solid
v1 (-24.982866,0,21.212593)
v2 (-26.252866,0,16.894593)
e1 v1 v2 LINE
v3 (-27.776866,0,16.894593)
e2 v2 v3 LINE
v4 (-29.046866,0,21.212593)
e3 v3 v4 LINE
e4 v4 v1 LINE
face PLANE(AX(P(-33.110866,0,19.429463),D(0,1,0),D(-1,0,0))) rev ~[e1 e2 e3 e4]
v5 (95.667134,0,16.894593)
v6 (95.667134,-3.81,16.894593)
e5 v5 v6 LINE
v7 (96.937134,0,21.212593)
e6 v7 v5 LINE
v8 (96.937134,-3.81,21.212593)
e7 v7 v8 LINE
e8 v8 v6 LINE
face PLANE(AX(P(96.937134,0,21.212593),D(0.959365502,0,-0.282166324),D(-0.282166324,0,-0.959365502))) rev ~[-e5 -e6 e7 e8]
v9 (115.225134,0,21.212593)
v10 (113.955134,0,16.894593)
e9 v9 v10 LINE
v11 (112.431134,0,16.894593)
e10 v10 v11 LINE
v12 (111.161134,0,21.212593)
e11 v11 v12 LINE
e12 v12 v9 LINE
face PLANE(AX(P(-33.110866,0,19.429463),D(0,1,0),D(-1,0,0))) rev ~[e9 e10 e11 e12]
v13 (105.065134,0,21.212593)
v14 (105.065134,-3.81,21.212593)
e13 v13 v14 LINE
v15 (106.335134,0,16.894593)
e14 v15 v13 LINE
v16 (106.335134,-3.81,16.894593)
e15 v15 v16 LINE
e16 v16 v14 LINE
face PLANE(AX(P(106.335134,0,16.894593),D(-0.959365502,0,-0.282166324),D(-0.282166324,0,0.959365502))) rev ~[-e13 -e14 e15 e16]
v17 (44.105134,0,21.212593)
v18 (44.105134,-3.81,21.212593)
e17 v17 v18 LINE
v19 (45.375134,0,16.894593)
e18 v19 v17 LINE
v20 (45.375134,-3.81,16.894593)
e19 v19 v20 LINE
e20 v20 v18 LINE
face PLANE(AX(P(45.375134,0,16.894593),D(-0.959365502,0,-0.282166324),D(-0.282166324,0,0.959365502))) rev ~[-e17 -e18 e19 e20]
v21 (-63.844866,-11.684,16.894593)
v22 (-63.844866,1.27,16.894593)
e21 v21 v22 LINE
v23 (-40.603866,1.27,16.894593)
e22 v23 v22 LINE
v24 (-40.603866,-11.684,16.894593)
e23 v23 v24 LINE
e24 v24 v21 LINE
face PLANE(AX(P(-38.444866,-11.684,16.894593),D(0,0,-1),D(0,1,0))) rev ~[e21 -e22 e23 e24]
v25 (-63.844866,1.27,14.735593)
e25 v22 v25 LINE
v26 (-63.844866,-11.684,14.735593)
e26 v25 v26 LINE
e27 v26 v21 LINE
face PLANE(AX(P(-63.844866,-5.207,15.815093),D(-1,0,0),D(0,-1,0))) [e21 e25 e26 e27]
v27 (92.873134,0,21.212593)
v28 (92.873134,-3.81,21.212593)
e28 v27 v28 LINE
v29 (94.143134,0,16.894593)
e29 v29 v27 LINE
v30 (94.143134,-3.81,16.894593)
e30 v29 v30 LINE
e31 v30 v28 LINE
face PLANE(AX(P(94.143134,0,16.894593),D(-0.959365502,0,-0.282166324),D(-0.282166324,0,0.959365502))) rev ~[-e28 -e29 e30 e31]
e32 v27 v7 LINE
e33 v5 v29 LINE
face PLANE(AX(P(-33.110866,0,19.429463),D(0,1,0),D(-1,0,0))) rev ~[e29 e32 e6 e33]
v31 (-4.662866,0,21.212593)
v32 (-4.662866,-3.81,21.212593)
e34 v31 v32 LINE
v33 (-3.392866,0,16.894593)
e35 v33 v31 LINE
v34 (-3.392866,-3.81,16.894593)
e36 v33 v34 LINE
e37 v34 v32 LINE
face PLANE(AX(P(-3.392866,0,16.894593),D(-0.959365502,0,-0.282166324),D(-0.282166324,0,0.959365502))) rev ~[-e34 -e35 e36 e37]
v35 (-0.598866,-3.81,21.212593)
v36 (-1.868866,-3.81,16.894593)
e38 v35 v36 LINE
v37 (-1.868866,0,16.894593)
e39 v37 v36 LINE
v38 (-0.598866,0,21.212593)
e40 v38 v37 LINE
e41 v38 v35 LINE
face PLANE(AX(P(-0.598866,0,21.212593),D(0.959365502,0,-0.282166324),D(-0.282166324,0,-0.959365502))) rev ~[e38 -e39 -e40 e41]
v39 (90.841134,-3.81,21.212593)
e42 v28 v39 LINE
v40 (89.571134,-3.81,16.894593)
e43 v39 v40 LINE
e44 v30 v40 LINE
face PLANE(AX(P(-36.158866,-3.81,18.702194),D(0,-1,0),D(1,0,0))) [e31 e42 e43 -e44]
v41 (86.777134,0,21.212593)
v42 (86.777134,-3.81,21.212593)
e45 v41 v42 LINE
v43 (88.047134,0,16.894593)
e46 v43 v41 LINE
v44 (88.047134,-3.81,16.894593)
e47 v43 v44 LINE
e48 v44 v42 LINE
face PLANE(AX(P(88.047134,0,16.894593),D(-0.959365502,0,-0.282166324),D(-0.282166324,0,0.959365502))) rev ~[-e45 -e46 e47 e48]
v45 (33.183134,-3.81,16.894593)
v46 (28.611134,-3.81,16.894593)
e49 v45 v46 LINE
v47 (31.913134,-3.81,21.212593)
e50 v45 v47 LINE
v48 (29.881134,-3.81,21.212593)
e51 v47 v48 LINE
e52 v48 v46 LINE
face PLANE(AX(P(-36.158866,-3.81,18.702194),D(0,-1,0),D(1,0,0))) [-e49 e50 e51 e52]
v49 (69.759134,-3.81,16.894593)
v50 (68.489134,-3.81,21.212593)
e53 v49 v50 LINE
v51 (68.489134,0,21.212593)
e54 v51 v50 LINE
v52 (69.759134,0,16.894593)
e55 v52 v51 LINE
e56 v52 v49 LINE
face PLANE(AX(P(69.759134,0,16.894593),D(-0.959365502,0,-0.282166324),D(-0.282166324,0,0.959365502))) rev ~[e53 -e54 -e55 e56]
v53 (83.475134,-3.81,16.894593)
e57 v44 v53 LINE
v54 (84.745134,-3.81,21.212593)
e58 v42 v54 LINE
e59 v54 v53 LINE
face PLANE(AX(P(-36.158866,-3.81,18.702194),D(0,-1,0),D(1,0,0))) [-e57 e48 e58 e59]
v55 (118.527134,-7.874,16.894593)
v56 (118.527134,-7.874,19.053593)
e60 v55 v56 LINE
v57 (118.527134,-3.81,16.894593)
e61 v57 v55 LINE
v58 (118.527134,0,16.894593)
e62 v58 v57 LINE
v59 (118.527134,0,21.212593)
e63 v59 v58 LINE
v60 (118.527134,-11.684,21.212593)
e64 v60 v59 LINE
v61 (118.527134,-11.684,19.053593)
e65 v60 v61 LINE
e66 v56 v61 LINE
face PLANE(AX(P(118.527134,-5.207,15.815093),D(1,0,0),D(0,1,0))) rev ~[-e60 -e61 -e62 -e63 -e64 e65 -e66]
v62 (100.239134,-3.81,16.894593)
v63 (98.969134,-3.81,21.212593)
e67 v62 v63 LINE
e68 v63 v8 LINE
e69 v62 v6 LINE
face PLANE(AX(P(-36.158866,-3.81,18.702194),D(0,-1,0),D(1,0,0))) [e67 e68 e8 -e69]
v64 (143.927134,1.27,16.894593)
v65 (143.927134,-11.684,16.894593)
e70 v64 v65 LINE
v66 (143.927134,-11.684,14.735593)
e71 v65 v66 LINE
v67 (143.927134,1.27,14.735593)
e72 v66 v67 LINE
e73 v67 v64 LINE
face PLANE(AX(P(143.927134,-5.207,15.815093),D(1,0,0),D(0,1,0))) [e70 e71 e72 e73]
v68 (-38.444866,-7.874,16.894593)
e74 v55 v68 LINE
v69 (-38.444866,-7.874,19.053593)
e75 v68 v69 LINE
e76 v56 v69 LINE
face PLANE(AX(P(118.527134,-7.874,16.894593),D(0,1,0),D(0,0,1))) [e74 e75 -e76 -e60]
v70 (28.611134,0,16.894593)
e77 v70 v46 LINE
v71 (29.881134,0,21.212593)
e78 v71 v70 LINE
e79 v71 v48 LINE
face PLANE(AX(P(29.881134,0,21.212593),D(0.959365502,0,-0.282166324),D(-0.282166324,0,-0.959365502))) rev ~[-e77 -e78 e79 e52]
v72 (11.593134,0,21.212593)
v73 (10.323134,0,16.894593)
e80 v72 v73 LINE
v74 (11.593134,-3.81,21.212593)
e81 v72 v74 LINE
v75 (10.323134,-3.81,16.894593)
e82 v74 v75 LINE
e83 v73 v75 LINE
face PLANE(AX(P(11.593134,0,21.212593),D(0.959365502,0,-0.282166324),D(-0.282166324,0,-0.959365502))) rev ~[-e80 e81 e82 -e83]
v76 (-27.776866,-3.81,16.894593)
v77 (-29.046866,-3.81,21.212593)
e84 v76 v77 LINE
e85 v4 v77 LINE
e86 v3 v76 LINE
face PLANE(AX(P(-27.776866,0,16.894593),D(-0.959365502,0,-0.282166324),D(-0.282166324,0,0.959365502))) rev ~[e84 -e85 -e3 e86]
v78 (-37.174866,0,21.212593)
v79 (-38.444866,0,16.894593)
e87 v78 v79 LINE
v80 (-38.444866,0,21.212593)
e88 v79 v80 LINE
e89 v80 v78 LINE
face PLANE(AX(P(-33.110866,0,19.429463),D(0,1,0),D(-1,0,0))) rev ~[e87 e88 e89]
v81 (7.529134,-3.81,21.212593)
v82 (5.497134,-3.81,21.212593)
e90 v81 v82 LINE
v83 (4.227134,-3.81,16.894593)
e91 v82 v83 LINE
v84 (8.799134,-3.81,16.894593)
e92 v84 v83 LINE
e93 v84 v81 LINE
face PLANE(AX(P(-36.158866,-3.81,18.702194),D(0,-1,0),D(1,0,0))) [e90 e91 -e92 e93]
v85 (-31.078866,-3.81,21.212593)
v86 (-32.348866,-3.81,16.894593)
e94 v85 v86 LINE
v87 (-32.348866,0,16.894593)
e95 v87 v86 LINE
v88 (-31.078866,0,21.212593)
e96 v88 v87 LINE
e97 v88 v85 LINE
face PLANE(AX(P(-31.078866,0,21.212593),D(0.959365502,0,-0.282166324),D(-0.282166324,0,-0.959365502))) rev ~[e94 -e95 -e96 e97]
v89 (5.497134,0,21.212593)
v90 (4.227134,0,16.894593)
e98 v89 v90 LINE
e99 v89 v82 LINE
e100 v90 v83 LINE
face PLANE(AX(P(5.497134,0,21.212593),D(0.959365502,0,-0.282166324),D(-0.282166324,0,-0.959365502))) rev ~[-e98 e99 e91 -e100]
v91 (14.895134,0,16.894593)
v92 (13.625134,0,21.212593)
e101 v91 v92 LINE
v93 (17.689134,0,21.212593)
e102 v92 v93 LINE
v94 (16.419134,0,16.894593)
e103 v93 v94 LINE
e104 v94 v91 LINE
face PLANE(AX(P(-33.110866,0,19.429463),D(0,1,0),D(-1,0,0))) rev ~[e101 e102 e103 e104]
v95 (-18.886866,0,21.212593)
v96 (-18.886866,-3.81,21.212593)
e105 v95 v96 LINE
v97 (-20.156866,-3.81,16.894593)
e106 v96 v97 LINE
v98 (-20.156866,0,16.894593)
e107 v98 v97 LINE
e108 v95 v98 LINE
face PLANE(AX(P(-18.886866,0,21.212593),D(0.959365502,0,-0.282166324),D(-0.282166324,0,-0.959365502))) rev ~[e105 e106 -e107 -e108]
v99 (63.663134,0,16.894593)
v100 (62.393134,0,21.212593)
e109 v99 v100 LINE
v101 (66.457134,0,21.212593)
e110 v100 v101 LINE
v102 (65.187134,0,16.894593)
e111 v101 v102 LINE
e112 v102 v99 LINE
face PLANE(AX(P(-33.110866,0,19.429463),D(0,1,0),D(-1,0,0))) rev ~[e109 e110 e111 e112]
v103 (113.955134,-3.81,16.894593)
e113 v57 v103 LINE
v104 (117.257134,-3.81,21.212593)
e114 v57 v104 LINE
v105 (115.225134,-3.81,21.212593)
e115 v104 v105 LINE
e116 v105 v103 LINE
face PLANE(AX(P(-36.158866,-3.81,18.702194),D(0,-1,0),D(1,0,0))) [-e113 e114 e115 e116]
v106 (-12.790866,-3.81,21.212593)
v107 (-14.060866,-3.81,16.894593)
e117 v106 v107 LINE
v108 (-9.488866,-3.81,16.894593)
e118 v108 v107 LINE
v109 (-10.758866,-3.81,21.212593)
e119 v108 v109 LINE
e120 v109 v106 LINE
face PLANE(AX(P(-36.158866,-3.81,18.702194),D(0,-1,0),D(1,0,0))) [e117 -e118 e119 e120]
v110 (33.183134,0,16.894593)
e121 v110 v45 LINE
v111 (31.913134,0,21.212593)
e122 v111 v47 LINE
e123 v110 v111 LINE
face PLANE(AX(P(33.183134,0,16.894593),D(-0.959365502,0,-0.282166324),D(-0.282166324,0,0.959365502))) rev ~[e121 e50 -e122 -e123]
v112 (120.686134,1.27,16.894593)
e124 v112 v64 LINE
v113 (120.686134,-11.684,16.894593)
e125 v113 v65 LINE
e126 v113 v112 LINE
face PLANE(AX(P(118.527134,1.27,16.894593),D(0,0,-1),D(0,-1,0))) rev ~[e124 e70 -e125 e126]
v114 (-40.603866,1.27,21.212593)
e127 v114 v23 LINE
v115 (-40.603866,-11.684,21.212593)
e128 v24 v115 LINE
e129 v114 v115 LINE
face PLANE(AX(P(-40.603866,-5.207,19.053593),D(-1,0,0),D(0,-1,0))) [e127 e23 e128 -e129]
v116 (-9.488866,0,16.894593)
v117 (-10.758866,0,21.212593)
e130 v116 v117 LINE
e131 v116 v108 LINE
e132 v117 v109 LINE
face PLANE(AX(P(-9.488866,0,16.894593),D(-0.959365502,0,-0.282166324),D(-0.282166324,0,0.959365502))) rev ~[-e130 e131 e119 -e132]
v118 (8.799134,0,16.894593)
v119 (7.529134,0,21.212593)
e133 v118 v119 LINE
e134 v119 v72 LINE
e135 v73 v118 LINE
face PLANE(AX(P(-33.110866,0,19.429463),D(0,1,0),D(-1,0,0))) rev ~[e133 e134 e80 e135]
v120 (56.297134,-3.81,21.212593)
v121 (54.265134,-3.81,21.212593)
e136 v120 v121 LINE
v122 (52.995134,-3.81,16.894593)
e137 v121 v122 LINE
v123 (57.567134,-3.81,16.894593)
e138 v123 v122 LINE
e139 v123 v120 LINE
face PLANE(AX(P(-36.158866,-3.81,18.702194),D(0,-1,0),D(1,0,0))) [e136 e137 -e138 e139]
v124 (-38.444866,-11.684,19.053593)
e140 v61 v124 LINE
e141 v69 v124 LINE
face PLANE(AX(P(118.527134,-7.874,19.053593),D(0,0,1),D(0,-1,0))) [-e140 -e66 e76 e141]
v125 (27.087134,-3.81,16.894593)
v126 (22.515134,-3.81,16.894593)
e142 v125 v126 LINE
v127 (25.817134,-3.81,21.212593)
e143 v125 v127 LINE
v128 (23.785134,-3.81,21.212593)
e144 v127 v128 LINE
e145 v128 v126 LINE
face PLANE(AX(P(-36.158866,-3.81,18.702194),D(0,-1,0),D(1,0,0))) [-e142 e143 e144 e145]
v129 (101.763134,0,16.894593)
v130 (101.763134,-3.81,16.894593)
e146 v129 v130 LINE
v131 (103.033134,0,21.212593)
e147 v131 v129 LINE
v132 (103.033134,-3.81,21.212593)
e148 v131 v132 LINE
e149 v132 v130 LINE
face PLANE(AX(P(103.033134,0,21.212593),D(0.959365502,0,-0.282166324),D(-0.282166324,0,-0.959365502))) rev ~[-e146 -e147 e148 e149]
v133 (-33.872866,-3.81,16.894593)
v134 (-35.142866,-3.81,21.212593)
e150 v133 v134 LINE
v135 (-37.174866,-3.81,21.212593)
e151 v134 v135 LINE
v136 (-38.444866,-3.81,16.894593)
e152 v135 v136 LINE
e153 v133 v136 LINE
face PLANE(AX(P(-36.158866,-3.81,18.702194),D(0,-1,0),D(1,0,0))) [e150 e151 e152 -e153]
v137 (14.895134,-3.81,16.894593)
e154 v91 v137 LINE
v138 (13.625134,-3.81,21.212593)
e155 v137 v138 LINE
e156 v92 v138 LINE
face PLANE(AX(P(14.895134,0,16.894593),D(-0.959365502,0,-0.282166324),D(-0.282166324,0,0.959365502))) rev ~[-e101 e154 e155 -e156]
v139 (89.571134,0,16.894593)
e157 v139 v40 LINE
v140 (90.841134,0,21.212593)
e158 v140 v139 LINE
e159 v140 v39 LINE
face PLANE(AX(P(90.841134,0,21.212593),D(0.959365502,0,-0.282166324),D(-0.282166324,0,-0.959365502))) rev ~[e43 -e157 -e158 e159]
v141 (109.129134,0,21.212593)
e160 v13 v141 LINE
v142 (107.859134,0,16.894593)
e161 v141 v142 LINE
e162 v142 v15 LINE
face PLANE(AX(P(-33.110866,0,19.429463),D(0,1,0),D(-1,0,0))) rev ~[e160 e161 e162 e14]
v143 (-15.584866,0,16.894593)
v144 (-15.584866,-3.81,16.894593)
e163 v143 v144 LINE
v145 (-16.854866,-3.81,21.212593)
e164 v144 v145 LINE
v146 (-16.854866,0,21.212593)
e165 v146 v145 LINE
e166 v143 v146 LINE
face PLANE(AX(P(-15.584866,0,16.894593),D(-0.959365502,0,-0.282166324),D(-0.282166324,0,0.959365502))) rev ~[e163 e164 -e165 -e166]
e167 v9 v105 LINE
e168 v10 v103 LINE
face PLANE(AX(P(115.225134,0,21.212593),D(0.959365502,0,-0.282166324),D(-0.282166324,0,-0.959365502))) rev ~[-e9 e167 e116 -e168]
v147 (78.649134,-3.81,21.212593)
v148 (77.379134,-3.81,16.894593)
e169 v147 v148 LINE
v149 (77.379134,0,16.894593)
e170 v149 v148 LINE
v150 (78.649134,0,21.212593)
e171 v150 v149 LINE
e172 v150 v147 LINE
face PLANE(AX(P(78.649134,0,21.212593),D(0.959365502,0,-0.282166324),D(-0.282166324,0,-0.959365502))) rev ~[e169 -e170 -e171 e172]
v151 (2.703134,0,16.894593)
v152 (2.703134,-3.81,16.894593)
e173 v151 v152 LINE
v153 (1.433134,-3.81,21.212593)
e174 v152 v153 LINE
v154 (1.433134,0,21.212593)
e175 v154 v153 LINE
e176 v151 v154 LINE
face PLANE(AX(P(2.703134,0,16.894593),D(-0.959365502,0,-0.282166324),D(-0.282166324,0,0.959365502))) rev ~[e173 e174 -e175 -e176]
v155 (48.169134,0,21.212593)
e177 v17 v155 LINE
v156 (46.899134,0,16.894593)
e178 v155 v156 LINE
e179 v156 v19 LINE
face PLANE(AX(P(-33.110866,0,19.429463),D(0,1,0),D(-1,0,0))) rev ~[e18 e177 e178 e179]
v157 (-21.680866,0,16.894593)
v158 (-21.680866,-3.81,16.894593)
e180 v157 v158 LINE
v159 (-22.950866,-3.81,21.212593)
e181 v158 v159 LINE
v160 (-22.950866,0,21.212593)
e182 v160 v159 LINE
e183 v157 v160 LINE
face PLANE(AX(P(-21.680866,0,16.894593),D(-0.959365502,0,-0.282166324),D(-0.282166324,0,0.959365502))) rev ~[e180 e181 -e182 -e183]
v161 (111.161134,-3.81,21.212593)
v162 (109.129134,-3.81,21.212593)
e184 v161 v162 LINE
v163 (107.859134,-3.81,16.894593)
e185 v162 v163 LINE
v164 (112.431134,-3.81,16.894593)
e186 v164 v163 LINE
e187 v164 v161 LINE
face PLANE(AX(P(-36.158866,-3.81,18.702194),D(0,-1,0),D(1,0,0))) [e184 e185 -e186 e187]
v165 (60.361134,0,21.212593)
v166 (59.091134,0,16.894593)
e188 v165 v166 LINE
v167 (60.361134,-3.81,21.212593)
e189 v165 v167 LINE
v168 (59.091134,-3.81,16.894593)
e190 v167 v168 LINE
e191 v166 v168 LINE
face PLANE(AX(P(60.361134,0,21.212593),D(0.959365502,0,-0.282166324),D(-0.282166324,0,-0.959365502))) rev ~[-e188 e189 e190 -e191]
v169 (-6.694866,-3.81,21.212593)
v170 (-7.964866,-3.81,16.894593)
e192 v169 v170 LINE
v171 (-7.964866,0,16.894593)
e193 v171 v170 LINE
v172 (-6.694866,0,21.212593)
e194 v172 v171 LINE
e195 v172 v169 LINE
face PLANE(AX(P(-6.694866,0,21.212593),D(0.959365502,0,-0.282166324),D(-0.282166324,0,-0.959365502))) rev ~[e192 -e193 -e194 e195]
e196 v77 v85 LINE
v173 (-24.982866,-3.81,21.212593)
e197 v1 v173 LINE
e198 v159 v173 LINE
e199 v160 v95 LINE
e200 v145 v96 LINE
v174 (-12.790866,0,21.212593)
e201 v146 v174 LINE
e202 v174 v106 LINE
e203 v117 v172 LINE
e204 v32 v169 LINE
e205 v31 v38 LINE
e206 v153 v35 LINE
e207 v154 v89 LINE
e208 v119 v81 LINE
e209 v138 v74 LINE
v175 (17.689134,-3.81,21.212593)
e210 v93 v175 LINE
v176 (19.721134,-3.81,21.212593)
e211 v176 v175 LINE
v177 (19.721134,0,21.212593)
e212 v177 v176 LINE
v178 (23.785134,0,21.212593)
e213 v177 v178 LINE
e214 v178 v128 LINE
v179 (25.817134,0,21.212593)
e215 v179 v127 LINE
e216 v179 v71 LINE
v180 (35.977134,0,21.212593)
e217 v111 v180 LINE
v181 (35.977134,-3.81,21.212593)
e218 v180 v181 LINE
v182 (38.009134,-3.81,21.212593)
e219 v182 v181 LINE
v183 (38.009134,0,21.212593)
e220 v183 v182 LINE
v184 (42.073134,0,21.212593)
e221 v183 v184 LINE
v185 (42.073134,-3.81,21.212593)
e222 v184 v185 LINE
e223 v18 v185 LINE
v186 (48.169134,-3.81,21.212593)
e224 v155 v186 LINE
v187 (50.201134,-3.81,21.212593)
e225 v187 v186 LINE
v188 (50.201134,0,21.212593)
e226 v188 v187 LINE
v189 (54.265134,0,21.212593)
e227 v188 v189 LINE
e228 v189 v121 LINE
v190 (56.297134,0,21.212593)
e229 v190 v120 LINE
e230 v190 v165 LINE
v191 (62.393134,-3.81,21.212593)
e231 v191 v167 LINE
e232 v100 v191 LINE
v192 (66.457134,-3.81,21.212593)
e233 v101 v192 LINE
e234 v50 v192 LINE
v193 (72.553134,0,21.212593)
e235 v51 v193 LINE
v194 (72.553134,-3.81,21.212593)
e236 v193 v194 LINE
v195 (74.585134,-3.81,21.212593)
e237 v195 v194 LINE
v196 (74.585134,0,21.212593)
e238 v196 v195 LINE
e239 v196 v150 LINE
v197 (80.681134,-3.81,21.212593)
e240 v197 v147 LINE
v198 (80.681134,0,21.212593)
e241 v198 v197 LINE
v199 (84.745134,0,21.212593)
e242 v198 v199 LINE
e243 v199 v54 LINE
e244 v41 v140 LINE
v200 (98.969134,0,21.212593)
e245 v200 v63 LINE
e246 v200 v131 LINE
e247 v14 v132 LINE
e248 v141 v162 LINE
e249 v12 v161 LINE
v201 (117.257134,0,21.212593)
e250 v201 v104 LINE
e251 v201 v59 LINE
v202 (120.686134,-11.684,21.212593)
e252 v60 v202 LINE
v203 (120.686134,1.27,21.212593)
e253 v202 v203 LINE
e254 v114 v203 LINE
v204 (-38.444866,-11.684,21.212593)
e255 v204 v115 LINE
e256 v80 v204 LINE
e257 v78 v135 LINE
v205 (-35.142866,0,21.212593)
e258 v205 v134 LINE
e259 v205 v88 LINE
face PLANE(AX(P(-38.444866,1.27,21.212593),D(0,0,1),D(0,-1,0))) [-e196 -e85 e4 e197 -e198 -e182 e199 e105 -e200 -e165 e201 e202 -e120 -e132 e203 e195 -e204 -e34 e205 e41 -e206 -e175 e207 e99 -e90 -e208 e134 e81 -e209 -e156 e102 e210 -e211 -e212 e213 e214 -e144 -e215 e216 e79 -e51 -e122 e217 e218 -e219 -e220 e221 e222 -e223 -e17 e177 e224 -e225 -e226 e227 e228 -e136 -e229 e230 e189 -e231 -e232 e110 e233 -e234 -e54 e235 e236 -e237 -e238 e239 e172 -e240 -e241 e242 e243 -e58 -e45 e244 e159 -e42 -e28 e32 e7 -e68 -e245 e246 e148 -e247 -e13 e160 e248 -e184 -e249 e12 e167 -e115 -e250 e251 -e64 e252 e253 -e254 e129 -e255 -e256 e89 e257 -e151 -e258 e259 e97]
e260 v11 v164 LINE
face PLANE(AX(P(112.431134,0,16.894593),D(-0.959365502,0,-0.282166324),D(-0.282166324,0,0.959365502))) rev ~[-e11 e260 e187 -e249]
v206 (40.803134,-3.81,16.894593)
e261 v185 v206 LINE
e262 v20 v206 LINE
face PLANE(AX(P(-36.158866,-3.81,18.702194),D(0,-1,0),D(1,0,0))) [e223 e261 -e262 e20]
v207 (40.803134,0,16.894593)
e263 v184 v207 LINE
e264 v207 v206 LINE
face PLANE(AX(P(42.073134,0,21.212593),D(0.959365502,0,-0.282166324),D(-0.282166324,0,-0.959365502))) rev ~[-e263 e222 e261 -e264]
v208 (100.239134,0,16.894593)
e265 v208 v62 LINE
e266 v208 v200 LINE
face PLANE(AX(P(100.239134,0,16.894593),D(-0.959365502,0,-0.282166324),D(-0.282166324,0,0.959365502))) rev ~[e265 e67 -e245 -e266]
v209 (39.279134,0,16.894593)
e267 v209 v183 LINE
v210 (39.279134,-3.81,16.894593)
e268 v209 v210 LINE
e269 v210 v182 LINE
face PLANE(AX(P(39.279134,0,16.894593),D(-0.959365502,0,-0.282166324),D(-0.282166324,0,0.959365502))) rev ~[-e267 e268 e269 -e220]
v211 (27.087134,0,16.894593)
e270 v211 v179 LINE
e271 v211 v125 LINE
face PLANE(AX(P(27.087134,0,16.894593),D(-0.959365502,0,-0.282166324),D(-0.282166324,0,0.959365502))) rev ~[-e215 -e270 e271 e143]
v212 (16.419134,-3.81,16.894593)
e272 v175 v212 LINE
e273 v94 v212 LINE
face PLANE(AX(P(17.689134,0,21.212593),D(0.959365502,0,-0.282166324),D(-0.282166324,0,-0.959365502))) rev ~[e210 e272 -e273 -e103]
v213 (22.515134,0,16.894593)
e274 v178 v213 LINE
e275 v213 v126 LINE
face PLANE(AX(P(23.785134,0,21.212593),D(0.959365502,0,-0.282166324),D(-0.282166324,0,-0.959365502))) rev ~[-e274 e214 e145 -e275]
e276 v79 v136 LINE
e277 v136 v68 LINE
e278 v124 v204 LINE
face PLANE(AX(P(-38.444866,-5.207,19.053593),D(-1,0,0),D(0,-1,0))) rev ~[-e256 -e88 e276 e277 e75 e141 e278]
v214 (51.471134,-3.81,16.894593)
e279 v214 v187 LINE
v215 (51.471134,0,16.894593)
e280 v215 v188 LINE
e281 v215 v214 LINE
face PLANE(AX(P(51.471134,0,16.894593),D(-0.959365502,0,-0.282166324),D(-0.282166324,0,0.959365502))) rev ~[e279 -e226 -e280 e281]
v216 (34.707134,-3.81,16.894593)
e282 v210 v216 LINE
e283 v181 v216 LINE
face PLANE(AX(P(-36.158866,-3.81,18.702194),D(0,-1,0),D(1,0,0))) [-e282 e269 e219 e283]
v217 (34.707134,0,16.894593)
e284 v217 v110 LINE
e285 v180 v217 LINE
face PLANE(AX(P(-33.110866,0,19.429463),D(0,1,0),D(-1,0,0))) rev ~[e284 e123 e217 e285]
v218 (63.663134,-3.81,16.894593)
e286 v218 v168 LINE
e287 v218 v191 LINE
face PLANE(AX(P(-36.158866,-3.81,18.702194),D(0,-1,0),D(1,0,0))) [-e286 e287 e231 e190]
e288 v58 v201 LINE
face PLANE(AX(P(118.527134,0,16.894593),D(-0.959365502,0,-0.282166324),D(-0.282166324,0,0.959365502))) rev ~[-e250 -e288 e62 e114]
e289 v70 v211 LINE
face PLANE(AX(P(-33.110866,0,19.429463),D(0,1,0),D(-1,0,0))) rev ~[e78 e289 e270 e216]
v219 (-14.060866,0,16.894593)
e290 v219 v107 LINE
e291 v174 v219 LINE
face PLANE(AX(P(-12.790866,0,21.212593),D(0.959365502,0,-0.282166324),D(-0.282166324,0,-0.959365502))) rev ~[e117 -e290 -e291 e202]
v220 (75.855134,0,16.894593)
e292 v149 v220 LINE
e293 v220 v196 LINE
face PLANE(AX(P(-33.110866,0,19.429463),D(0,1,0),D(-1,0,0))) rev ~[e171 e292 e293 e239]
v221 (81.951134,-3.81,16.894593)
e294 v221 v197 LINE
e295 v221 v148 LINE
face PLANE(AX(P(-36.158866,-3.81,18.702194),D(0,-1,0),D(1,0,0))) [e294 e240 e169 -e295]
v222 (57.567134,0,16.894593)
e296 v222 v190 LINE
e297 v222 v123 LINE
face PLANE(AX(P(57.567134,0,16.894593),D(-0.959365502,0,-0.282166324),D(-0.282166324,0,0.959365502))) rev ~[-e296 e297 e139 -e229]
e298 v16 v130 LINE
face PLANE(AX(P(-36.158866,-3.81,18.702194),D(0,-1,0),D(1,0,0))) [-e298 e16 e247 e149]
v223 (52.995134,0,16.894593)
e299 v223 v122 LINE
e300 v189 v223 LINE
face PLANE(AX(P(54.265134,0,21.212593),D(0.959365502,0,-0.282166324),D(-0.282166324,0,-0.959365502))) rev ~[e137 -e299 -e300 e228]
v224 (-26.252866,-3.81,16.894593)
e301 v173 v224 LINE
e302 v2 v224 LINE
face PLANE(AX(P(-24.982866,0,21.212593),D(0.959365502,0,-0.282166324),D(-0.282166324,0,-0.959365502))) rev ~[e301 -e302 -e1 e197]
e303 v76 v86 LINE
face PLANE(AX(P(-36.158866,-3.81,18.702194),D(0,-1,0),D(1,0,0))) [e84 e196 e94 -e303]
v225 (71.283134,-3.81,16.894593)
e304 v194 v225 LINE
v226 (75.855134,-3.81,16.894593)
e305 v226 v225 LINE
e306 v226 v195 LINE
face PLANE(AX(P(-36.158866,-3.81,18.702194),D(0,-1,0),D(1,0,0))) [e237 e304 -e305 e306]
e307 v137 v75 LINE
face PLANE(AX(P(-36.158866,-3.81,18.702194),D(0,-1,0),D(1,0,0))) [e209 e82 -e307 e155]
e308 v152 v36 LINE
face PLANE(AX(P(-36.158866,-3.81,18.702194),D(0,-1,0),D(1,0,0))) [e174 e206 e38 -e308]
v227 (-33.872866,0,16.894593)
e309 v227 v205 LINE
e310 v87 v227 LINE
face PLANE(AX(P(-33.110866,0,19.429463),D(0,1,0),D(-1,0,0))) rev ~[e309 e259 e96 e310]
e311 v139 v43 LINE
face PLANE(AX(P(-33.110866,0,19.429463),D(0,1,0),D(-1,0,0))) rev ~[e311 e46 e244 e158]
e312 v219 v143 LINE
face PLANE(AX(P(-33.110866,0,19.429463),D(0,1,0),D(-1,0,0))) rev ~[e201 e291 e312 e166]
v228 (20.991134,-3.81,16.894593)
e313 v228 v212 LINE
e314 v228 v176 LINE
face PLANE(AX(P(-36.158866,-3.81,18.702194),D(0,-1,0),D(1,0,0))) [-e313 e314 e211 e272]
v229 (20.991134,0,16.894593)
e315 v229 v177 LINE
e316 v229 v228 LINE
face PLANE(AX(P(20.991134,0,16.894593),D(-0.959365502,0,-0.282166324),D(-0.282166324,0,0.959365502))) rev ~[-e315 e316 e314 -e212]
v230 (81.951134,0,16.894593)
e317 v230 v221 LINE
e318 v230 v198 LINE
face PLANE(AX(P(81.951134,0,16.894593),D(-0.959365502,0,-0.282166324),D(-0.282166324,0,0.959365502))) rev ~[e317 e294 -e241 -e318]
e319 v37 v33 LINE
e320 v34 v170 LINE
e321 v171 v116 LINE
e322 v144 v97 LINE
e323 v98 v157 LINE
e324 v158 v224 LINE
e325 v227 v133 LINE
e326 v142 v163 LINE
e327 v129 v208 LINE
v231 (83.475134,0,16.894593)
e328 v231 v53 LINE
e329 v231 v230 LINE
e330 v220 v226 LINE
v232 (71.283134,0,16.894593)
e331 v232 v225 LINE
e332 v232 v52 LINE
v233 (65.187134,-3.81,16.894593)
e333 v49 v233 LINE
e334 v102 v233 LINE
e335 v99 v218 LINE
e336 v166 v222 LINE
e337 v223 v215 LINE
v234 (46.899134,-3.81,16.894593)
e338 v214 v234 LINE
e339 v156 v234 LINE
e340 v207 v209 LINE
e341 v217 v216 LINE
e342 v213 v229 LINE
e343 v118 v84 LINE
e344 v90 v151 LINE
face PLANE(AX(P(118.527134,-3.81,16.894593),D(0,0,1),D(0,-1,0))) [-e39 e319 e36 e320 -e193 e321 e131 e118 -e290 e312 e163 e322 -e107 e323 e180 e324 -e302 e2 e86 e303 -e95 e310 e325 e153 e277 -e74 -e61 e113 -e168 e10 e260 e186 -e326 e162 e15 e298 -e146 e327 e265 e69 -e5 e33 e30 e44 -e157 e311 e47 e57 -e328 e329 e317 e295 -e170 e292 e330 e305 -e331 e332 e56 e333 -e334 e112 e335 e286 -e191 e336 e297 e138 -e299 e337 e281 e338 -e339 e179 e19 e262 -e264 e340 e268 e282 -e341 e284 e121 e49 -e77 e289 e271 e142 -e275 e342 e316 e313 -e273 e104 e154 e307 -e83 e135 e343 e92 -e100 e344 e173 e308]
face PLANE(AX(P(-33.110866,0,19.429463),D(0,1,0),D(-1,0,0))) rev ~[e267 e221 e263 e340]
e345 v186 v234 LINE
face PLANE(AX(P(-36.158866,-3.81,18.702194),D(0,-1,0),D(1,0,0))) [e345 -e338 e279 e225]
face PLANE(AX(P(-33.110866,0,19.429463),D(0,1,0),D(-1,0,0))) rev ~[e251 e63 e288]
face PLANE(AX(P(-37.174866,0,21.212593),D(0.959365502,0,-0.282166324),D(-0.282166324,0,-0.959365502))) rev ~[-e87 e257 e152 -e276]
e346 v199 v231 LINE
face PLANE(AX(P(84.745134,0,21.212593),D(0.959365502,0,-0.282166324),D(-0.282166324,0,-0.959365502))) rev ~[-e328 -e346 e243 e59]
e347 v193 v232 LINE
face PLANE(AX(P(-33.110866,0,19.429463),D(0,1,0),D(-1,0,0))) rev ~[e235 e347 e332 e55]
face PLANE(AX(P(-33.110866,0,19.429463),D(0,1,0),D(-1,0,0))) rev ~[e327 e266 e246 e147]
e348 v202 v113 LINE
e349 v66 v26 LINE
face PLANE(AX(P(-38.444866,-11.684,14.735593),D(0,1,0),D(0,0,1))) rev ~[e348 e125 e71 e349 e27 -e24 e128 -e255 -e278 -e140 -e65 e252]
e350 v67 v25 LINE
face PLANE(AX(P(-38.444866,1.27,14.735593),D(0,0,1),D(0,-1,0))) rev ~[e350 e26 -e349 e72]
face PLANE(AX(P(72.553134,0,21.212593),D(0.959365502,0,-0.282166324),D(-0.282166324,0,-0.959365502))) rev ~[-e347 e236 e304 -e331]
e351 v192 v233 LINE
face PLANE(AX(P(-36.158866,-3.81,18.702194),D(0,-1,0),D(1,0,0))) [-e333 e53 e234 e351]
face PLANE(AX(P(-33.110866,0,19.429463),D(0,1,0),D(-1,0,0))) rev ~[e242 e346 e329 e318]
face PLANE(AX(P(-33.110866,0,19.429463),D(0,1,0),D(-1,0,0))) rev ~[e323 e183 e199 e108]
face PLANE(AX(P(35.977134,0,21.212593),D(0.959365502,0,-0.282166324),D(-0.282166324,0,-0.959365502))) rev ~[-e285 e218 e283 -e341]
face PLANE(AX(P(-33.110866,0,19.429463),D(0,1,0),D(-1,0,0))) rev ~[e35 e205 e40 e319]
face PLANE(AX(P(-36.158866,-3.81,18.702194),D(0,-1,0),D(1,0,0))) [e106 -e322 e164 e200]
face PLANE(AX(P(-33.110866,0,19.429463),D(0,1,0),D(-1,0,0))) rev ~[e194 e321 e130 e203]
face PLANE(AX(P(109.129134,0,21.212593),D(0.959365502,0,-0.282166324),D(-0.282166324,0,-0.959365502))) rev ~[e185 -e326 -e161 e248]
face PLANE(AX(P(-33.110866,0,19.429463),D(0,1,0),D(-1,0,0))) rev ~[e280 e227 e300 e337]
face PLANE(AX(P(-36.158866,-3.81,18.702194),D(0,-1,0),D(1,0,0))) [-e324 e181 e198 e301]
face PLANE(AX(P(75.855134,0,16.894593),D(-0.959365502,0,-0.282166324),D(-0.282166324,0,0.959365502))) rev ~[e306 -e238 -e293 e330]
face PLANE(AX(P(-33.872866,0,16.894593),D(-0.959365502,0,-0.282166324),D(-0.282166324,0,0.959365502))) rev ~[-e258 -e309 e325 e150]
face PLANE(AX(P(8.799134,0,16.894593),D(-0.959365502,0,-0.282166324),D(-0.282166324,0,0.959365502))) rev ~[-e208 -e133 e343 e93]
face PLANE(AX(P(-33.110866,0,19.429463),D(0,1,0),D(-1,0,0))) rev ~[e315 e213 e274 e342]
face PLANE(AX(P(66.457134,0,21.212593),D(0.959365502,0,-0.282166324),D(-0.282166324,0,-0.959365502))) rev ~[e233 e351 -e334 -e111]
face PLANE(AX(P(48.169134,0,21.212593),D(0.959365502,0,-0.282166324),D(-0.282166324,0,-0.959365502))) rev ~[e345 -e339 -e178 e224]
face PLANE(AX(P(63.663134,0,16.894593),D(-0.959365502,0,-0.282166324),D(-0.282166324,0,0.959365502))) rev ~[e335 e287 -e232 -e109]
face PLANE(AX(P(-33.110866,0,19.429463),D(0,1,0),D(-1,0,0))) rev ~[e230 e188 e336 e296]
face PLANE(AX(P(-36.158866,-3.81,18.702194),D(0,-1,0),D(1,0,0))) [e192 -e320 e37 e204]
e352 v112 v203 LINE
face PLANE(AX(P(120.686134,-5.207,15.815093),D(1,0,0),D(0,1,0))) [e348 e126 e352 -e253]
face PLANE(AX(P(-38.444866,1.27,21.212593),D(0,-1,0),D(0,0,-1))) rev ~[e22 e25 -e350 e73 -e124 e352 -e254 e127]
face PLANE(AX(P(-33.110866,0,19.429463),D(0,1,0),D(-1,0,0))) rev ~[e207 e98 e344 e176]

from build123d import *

# Parameters (mm, degrees)
F1_DEPTH  = 3.81
F5_DEPTH  = 156.972
F7_DEPTH  = 1.27
F9_W      = 12.954
F9_H      = 2.159
F9_H_2    = 4.318
F10_DEPTH = 2.159
F11_DEPTH = 25.4
F12_W     = 12.954
F12_H     = 4.318
F12_H_2   = 2.159
F13_DEPTH = 2.159
F14_DEPTH = 25.4


with BuildPart() as f1:
    # F0 (on Front) → F1 (new body)
    with BuildSketch(Plane.XZ):
        Polygon((-37.1748663006, 21.2125933835), (-38.4448663006, 16.8945933835), (-33.8728663006, 16.8945933835), (-35.1428663006, 21.2125933835), align=None)
        Polygon((-33.8728663006, 16.8945933835), (-38.4448663006, 16.8945933835), (-38.4448663006, 14.7355933835), (118.5271336994, 14.7355933835), (118.5271336994, 16.8945933835), (113.9551336994, 16.8945933835), (112.4311336994, 16.8945933835), (107.8591336994, 16.8945933835), (106.3351336994, 16.8945933835), (101.7631336994, 16.8945933835), (100.2391336994, 16.8945933835), (95.6671336994, 16.8945933835), (94.1431336994, 16.8945933835), (89.5711336994, 16.8945933835), (88.0471336994, 16.8945933835), (83.4751336994, 16.8945933835), (81.9511336994, 16.8945933835), (77.3791336994, 16.8945933835), (75.8551336994, 16.8945933835), (71.2831336994, 16.8945933835), (69.7591336994, 16.8945933835), (65.1871336994, 16.8945933835), (63.6631336994, 16.8945933835), (59.0911336994, 16.8945933835), (57.5671336994, 16.8945933835), (52.9951336994, 16.8945933835), (51.4711336994, 16.8945933835), (46.8991336994, 16.8945933835), (45.3751336994, 16.8945933835), (40.8031336994, 16.8945933835), (39.2791336994, 16.8945933835), (34.7071336994, 16.8945933835), (33.1831336994, 16.8945933835), (28.6111336994, 16.8945933835), (27.0871336994, 16.8945933835), (22.5151336994, 16.8945933835), (20.9911336994, 16.8945933835), (16.4191336994, 16.8945933835), (14.8951336994, 16.8945933835), (10.3231336994, 16.8945933835), (8.7991336994, 16.8945933835), (4.2271336994, 16.8945933835), (2.7031336994, 16.8945933835), (-1.8688663006, 16.8945933835), (-3.3928663006, 16.8945933835), (-7.9648663006, 16.8945933835), (-9.4888663006, 16.8945933835), (-14.0608663006, 16.8945933835), (-15.5848663006, 16.8945933835), (-20.1568663006, 16.8945933835), (-21.6808663006, 16.8945933835), (-26.2528663006, 16.8945933835), (-27.7768663006, 16.8945933835), (-32.3488663006, 16.8945933835), align=None)
        Polygon((-31.0788663006, 21.2125933835), (-32.3488663006, 16.8945933835), (-27.7768663006, 16.8945933835), (-29.0468663006, 21.2125933835), align=None)
        Polygon((113.9551336994, 16.8945933835), (118.5271336994, 16.8945933835), (117.2571336994, 21.2125933835), (115.2251336994, 21.2125933835), align=None)
        Polygon((-24.9828663006, 21.2125933835), (-26.2528663006, 16.8945933835), (-21.6808663006, 16.8945933835), (-22.9508663006, 21.2125933835), align=None)
        Polygon((107.8591336994, 16.8945933835), (112.4311336994, 16.8945933835), (111.1611336994, 21.2125933835), (109.1291336994, 21.2125933835), align=None)
        Polygon((-18.8868663006, 21.2125933835), (-20.1568663006, 16.8945933835), (-15.5848663006, 16.8945933835), (-16.8548663006, 21.2125933835), align=None)
        Polygon((101.7631336994, 16.8945933835), (106.3351336994, 16.8945933835), (105.0651336994, 21.2125933835), (103.0331336994, 21.2125933835), align=None)
        Polygon((-12.7908663006, 21.2125933835), (-14.0608663006, 16.8945933835), (-9.4888663006, 16.8945933835), (-10.7588663006, 21.2125933835), align=None)
        Polygon((95.6671336994, 16.8945933835), (100.2391336994, 16.8945933835), (98.9691336994, 21.2125933835), (96.9371336994, 21.2125933835), align=None)
        Polygon((-6.6948663006, 21.2125933835), (-7.9648663006, 16.8945933835), (-3.3928663006, 16.8945933835), (-4.6628663006, 21.2125933835), align=None)
        Polygon((89.5711336994, 16.8945933835), (94.1431336994, 16.8945933835), (92.8731336994, 21.2125933835), (90.8411336994, 21.2125933835), align=None)
        Polygon((-0.5988663006, 21.2125933835), (-1.8688663006, 16.8945933835), (2.7031336994, 16.8945933835), (1.4331336994, 21.2125933835), align=None)
        Polygon((83.4751336994, 16.8945933835), (88.0471336994, 16.8945933835), (86.7771336994, 21.2125933835), (84.7451336994, 21.2125933835), align=None)
        Polygon((5.4971336994, 21.2125933835), (4.2271336994, 16.8945933835), (8.7991336994, 16.8945933835), (7.5291336994, 21.2125933835), align=None)
        Polygon((77.3791336994, 16.8945933835), (81.9511336994, 16.8945933835), (80.6811336994, 21.2125933835), (78.6491336994, 21.2125933835), align=None)
        Polygon((11.5931336994, 21.2125933835), (10.3231336994, 16.8945933835), (14.8951336994, 16.8945933835), (13.6251336994, 21.2125933835), align=None)
        Polygon((71.2831336994, 16.8945933835), (75.8551336994, 16.8945933835), (74.5851336994, 21.2125933835), (72.5531336994, 21.2125933835), align=None)
        Polygon((17.6891336994, 21.2125933835), (16.4191336994, 16.8945933835), (20.9911336994, 16.8945933835), (19.7211336994, 21.2125933835), align=None)
        Polygon((65.1871336994, 16.8945933835), (69.7591336994, 16.8945933835), (68.4891336994, 21.2125933835), (66.4571336994, 21.2125933835), align=None)
        Polygon((23.7851336994, 21.2125933835), (22.5151336994, 16.8945933835), (27.0871336994, 16.8945933835), (25.8171336994, 21.2125933835), align=None)
        Polygon((59.0911336994, 16.8945933835), (63.6631336994, 16.8945933835), (62.3931336994, 21.2125933835), (60.3611336994, 21.2125933835), align=None)
        Polygon((29.8811336994, 21.2125933835), (28.6111336994, 16.8945933835), (33.1831336994, 16.8945933835), (31.9131336994, 21.2125933835), align=None)
        Polygon((52.9951336994, 16.8945933835), (57.5671336994, 16.8945933835), (56.2971336994, 21.2125933835), (54.2651336994, 21.2125933835), align=None)
        Polygon((35.9771336994, 21.2125933835), (34.7071336994, 16.8945933835), (39.2791336994, 16.8945933835), (38.0091336994, 21.2125933835), align=None)
        Polygon((46.8991336994, 16.8945933835), (51.4711336994, 16.8945933835), (50.2011336994, 21.2125933835), (48.1691336994, 21.2125933835), align=None)
        Polygon((42.0731336994, 21.2125933835), (40.8031336994, 16.8945933835), (45.3751336994, 16.8945933835), (44.1051336994, 21.2125933835), align=None)
    extrude(amount=F1_DEPTH)

    # F4 (on plane+point) → F5 (join, through all)
    with BuildSketch(Plane.YZ.offset(118.5271336994)):
        Polygon((-11.684, 14.7355933835), (-3.81, 14.7355933835), (-3.81, 16.8945933835), (-7.874, 16.8945933835), (-7.874, 19.0535933835), (-11.684, 19.0535933835), (-11.684, 16.8945933835), align=None)
    extrude(amount=-F5_DEPTH)

    # F6 (on face) → F7 (join)
    with BuildSketch(Plane(origin=(0, 0, 0), x_dir=(-1, 0, 0), z_dir=(0, 1, 0))):
        Polygon((33.8728663006, 16.8945933835), (35.1428663006, 21.2125933835), (31.0788663006, 21.2125933835), (32.3488663006, 16.8945933835), align=None)
        Polygon((27.7768663006, 16.8945933835), (29.0468663006, 21.2125933835), (24.9828663006, 21.2125933835), (26.2528663006, 16.8945933835), align=None)
        Polygon((21.6808663006, 16.8945933835), (22.9508663006, 21.2125933835), (18.8868663006, 21.2125933835), (20.1568663006, 16.8945933835), align=None)
        Polygon((15.5848663006, 16.8945933835), (16.8548663006, 21.2125933835), (12.7908663006, 21.2125933835), (14.0608663006, 16.8945933835), align=None)
        Polygon((9.4888663006, 16.8945933835), (10.7588663006, 21.2125933835), (6.6948663006, 21.2125933835), (7.9648663006, 16.8945933835), align=None)
        Polygon((3.3928663006, 16.8945933835), (4.6628663006, 21.2125933835), (0.5988663006, 21.2125933835), (1.8688663006, 16.8945933835), align=None)
        Polygon((-2.7031336994, 16.8945933835), (-1.4331336994, 21.2125933835), (-5.4971336994, 21.2125933835), (-4.2271336994, 16.8945933835), align=None)
        Polygon((-8.7991336994, 16.8945933835), (-7.5291336994, 21.2125933835), (-11.5931336994, 21.2125933835), (-10.3231336994, 16.8945933835), align=None)
        Polygon((-14.8951336994, 16.8945933835), (-13.6251336994, 21.2125933835), (-17.6891336994, 21.2125933835), (-16.4191336994, 16.8945933835), align=None)
        Polygon((-20.9911336994, 16.8945933835), (-19.7211336994, 21.2125933835), (-23.7851336994, 21.2125933835), (-22.5151336994, 16.8945933835), align=None)
        Polygon((-27.0871336994, 16.8945933835), (-25.8171336994, 21.2125933835), (-29.8811336994, 21.2125933835), (-28.6111336994, 16.8945933835), align=None)
        Polygon((-118.5271336994, 14.7355933835), (38.4448663006, 14.7355933835), (38.4448663006, 16.8945933835), (37.1748663006, 21.2125933835), (35.1428663006, 21.2125933835), (33.8728663006, 16.8945933835), (32.3488663006, 16.8945933835), (31.0788663006, 21.2125933835), (29.0468663006, 21.2125933835), (27.7768663006, 16.8945933835), (26.2528663006, 16.8945933835), (24.9828663006, 21.2125933835), (22.9508663006, 21.2125933835), (21.6808663006, 16.8945933835), (20.1568663006, 16.8945933835), (18.8868663006, 21.2125933835), (16.8548663006, 21.2125933835), (15.5848663006, 16.8945933835), (14.0608663006, 16.8945933835), (12.7908663006, 21.2125933835), (10.7588663006, 21.2125933835), (9.4888663006, 16.8945933835), (7.9648663006, 16.8945933835), (6.6948663006, 21.2125933835), (4.6628663006, 21.2125933835), (3.3928663006, 16.8945933835), (1.8688663006, 16.8945933835), (0.5988663006, 21.2125933835), (-1.4331336994, 21.2125933835), (-2.7031336994, 16.8945933835), (-4.2271336994, 16.8945933835), (-5.4971336994, 21.2125933835), (-7.5291336994, 21.2125933835), (-8.7991336994, 16.8945933835), (-10.3231336994, 16.8945933835), (-11.5931336994, 21.2125933835), (-13.6251336994, 21.2125933835), (-14.8951336994, 16.8945933835), (-16.4191336994, 16.8945933835), (-17.6891336994, 21.2125933835), (-19.7211336994, 21.2125933835), (-20.9911336994, 16.8945933835), (-22.5151336994, 16.8945933835), (-23.7851336994, 21.2125933835), (-25.8171336994, 21.2125933835), (-27.0871336994, 16.8945933835), (-28.6111336994, 16.8945933835), (-29.8811336994, 21.2125933835), (-31.9131336994, 21.2125933835), (-33.1831336994, 16.8945933835), (-34.7071336994, 16.8945933835), (-35.9771336994, 21.2125933835), (-38.0091336994, 21.2125933835), (-39.2791336994, 16.8945933835), (-40.8031336994, 16.8945933835), (-42.0731336994, 21.2125933835), (-44.1051336994, 21.2125933835), (-45.3751336994, 16.8945933835), (-46.8991336994, 16.8945933835), (-48.1691336994, 21.2125933835), (-50.2011336994, 21.2125933835), (-51.4711336994, 16.8945933835), (-52.9951336994, 16.8945933835), (-54.2651336994, 21.2125933835), (-56.2971336994, 21.2125933835), (-57.5671336994, 16.8945933835), (-59.0911336994, 16.8945933835), (-60.3611336994, 21.2125933835), (-62.3931336994, 21.2125933835), (-63.6631336994, 16.8945933835), (-65.1871336994, 16.8945933835), (-66.4571336994, 21.2125933835), (-68.4891336994, 21.2125933835), (-69.7591336994, 16.8945933835), (-71.2831336994, 16.8945933835), (-72.5531336994, 21.2125933835), (-74.5851336994, 21.2125933835), (-75.8551336994, 16.8945933835), (-77.3791336994, 16.8945933835), (-78.6491336994, 21.2125933835), (-80.6811336994, 21.2125933835), (-81.9511336994, 16.8945933835), (-83.4751336994, 16.8945933835), (-84.7451336994, 21.2125933835), (-86.7771336994, 21.2125933835), (-88.0471336994, 16.8945933835), (-89.5711336994, 16.8945933835), (-90.8411336994, 21.2125933835), (-92.8731336994, 21.2125933835), (-94.1431336994, 16.8945933835), (-95.6671336994, 16.8945933835), (-96.9371336994, 21.2125933835), (-98.9691336994, 21.2125933835), (-100.2391336994, 16.8945933835), (-101.7631336994, 16.8945933835), (-103.0331336994, 21.2125933835), (-105.0651336994, 21.2125933835), (-106.3351336994, 16.8945933835), (-107.8591336994, 16.8945933835), (-109.1291336994, 21.2125933835), (-111.1611336994, 21.2125933835), (-112.4311336994, 16.8945933835), (-113.9551336994, 16.8945933835), (-115.2251336994, 21.2125933835), (-117.2571336994, 21.2125933835), (-118.5271336994, 16.8945933835), align=None)
        Polygon((-111.1611336994, 21.2125933835), (-115.2251336994, 21.2125933835), (-113.9551336994, 16.8945933835), (-112.4311336994, 16.8945933835), align=None)
        Polygon((-105.0651336994, 21.2125933835), (-109.1291336994, 21.2125933835), (-107.8591336994, 16.8945933835), (-106.3351336994, 16.8945933835), align=None)
        Polygon((-98.9691336994, 21.2125933835), (-103.0331336994, 21.2125933835), (-101.7631336994, 16.8945933835), (-100.2391336994, 16.8945933835), align=None)
        Polygon((-92.8731336994, 21.2125933835), (-96.9371336994, 21.2125933835), (-95.6671336994, 16.8945933835), (-94.1431336994, 16.8945933835), align=None)
        Polygon((-86.7771336994, 21.2125933835), (-90.8411336994, 21.2125933835), (-89.5711336994, 16.8945933835), (-88.0471336994, 16.8945933835), align=None)
        Polygon((-80.6811336994, 21.2125933835), (-84.7451336994, 21.2125933835), (-83.4751336994, 16.8945933835), (-81.9511336994, 16.8945933835), align=None)
        Polygon((-74.5851336994, 21.2125933835), (-78.6491336994, 21.2125933835), (-77.3791336994, 16.8945933835), (-75.8551336994, 16.8945933835), align=None)
        Polygon((-68.4891336994, 21.2125933835), (-72.5531336994, 21.2125933835), (-71.2831336994, 16.8945933835), (-69.7591336994, 16.8945933835), align=None)
        Polygon((-62.3931336994, 21.2125933835), (-66.4571336994, 21.2125933835), (-65.1871336994, 16.8945933835), (-63.6631336994, 16.8945933835), align=None)
        Polygon((-56.2971336994, 21.2125933835), (-60.3611336994, 21.2125933835), (-59.0911336994, 16.8945933835), (-57.5671336994, 16.8945933835), align=None)
        Polygon((-50.2011336994, 21.2125933835), (-54.2651336994, 21.2125933835), (-52.9951336994, 16.8945933835), (-51.4711336994, 16.8945933835), align=None)
        Polygon((-44.1051336994, 21.2125933835), (-48.1691336994, 21.2125933835), (-46.8991336994, 16.8945933835), (-45.3751336994, 16.8945933835), align=None)
        Polygon((-39.2791336994, 16.8945933835), (-38.0091336994, 21.2125933835), (-42.0731336994, 21.2125933835), (-40.8031336994, 16.8945933835), align=None)
        Polygon((-33.1831336994, 16.8945933835), (-31.9131336994, 21.2125933835), (-35.9771336994, 21.2125933835), (-34.7071336994, 16.8945933835), align=None)
        Polygon((-118.5271336994, 21.2125933835), (-118.5271336994, 16.8945933835), (-117.2571336994, 21.2125933835), align=None)
        Polygon((37.1748663006, 21.2125933835), (38.4448663006, 16.8945933835), (38.4448663006, 21.2125933835), align=None)
    extrude(amount=F7_DEPTH)

    # F9 (on face) → F10 (join)
    with BuildSketch(Plane.YZ.offset(118.5271336994)):
        with Locations((-5.207, 15.8150933835)):
            Rectangle(F9_W, F9_H)
        with Locations((-5.207, 19.0535933835)):
            Rectangle(F9_W, F9_H_2)
    extrude(amount=F10_DEPTH)

    # F9 (on face) → F11 (join)
    with BuildSketch(Plane.YZ.offset(118.5271336994)):
        Polygon((-11.684, 16.8945933835), (-11.684, 14.7355933835), (1.27, 14.7355933835), (1.27, 16.8945933835), (0, 16.8945933835), (-3.81, 16.8945933835), (-7.874, 16.8945933835), align=None)
    extrude(amount=F11_DEPTH)

    # F12 (on face) → F13 (join)
    with BuildSketch(Plane(origin=(-38.4448663006, 0, 0), x_dir=(0, -1, 0), z_dir=(-1, 0, 0))):
        with Locations((5.207, 19.0535933835)):
            Rectangle(F12_W, F12_H)
        with Locations((5.207, 15.8150933835)):
            Rectangle(F12_W, F12_H_2)
    extrude(amount=F13_DEPTH)

    # F12 (on face) → F14 (join)
    with BuildSketch(Plane(origin=(-38.4448663006, 0, 0), x_dir=(0, -1, 0), z_dir=(-1, 0, 0))):
        Polygon((3.81, 16.8945933835), (0, 16.8945933835), (-1.27, 16.8945933835), (-1.27, 14.7355933835), (11.684, 14.7355933835), (11.684, 16.8945933835), (7.874, 16.8945933835), align=None)
    extrude(amount=F14_DEPTH)


solid = f1.part
